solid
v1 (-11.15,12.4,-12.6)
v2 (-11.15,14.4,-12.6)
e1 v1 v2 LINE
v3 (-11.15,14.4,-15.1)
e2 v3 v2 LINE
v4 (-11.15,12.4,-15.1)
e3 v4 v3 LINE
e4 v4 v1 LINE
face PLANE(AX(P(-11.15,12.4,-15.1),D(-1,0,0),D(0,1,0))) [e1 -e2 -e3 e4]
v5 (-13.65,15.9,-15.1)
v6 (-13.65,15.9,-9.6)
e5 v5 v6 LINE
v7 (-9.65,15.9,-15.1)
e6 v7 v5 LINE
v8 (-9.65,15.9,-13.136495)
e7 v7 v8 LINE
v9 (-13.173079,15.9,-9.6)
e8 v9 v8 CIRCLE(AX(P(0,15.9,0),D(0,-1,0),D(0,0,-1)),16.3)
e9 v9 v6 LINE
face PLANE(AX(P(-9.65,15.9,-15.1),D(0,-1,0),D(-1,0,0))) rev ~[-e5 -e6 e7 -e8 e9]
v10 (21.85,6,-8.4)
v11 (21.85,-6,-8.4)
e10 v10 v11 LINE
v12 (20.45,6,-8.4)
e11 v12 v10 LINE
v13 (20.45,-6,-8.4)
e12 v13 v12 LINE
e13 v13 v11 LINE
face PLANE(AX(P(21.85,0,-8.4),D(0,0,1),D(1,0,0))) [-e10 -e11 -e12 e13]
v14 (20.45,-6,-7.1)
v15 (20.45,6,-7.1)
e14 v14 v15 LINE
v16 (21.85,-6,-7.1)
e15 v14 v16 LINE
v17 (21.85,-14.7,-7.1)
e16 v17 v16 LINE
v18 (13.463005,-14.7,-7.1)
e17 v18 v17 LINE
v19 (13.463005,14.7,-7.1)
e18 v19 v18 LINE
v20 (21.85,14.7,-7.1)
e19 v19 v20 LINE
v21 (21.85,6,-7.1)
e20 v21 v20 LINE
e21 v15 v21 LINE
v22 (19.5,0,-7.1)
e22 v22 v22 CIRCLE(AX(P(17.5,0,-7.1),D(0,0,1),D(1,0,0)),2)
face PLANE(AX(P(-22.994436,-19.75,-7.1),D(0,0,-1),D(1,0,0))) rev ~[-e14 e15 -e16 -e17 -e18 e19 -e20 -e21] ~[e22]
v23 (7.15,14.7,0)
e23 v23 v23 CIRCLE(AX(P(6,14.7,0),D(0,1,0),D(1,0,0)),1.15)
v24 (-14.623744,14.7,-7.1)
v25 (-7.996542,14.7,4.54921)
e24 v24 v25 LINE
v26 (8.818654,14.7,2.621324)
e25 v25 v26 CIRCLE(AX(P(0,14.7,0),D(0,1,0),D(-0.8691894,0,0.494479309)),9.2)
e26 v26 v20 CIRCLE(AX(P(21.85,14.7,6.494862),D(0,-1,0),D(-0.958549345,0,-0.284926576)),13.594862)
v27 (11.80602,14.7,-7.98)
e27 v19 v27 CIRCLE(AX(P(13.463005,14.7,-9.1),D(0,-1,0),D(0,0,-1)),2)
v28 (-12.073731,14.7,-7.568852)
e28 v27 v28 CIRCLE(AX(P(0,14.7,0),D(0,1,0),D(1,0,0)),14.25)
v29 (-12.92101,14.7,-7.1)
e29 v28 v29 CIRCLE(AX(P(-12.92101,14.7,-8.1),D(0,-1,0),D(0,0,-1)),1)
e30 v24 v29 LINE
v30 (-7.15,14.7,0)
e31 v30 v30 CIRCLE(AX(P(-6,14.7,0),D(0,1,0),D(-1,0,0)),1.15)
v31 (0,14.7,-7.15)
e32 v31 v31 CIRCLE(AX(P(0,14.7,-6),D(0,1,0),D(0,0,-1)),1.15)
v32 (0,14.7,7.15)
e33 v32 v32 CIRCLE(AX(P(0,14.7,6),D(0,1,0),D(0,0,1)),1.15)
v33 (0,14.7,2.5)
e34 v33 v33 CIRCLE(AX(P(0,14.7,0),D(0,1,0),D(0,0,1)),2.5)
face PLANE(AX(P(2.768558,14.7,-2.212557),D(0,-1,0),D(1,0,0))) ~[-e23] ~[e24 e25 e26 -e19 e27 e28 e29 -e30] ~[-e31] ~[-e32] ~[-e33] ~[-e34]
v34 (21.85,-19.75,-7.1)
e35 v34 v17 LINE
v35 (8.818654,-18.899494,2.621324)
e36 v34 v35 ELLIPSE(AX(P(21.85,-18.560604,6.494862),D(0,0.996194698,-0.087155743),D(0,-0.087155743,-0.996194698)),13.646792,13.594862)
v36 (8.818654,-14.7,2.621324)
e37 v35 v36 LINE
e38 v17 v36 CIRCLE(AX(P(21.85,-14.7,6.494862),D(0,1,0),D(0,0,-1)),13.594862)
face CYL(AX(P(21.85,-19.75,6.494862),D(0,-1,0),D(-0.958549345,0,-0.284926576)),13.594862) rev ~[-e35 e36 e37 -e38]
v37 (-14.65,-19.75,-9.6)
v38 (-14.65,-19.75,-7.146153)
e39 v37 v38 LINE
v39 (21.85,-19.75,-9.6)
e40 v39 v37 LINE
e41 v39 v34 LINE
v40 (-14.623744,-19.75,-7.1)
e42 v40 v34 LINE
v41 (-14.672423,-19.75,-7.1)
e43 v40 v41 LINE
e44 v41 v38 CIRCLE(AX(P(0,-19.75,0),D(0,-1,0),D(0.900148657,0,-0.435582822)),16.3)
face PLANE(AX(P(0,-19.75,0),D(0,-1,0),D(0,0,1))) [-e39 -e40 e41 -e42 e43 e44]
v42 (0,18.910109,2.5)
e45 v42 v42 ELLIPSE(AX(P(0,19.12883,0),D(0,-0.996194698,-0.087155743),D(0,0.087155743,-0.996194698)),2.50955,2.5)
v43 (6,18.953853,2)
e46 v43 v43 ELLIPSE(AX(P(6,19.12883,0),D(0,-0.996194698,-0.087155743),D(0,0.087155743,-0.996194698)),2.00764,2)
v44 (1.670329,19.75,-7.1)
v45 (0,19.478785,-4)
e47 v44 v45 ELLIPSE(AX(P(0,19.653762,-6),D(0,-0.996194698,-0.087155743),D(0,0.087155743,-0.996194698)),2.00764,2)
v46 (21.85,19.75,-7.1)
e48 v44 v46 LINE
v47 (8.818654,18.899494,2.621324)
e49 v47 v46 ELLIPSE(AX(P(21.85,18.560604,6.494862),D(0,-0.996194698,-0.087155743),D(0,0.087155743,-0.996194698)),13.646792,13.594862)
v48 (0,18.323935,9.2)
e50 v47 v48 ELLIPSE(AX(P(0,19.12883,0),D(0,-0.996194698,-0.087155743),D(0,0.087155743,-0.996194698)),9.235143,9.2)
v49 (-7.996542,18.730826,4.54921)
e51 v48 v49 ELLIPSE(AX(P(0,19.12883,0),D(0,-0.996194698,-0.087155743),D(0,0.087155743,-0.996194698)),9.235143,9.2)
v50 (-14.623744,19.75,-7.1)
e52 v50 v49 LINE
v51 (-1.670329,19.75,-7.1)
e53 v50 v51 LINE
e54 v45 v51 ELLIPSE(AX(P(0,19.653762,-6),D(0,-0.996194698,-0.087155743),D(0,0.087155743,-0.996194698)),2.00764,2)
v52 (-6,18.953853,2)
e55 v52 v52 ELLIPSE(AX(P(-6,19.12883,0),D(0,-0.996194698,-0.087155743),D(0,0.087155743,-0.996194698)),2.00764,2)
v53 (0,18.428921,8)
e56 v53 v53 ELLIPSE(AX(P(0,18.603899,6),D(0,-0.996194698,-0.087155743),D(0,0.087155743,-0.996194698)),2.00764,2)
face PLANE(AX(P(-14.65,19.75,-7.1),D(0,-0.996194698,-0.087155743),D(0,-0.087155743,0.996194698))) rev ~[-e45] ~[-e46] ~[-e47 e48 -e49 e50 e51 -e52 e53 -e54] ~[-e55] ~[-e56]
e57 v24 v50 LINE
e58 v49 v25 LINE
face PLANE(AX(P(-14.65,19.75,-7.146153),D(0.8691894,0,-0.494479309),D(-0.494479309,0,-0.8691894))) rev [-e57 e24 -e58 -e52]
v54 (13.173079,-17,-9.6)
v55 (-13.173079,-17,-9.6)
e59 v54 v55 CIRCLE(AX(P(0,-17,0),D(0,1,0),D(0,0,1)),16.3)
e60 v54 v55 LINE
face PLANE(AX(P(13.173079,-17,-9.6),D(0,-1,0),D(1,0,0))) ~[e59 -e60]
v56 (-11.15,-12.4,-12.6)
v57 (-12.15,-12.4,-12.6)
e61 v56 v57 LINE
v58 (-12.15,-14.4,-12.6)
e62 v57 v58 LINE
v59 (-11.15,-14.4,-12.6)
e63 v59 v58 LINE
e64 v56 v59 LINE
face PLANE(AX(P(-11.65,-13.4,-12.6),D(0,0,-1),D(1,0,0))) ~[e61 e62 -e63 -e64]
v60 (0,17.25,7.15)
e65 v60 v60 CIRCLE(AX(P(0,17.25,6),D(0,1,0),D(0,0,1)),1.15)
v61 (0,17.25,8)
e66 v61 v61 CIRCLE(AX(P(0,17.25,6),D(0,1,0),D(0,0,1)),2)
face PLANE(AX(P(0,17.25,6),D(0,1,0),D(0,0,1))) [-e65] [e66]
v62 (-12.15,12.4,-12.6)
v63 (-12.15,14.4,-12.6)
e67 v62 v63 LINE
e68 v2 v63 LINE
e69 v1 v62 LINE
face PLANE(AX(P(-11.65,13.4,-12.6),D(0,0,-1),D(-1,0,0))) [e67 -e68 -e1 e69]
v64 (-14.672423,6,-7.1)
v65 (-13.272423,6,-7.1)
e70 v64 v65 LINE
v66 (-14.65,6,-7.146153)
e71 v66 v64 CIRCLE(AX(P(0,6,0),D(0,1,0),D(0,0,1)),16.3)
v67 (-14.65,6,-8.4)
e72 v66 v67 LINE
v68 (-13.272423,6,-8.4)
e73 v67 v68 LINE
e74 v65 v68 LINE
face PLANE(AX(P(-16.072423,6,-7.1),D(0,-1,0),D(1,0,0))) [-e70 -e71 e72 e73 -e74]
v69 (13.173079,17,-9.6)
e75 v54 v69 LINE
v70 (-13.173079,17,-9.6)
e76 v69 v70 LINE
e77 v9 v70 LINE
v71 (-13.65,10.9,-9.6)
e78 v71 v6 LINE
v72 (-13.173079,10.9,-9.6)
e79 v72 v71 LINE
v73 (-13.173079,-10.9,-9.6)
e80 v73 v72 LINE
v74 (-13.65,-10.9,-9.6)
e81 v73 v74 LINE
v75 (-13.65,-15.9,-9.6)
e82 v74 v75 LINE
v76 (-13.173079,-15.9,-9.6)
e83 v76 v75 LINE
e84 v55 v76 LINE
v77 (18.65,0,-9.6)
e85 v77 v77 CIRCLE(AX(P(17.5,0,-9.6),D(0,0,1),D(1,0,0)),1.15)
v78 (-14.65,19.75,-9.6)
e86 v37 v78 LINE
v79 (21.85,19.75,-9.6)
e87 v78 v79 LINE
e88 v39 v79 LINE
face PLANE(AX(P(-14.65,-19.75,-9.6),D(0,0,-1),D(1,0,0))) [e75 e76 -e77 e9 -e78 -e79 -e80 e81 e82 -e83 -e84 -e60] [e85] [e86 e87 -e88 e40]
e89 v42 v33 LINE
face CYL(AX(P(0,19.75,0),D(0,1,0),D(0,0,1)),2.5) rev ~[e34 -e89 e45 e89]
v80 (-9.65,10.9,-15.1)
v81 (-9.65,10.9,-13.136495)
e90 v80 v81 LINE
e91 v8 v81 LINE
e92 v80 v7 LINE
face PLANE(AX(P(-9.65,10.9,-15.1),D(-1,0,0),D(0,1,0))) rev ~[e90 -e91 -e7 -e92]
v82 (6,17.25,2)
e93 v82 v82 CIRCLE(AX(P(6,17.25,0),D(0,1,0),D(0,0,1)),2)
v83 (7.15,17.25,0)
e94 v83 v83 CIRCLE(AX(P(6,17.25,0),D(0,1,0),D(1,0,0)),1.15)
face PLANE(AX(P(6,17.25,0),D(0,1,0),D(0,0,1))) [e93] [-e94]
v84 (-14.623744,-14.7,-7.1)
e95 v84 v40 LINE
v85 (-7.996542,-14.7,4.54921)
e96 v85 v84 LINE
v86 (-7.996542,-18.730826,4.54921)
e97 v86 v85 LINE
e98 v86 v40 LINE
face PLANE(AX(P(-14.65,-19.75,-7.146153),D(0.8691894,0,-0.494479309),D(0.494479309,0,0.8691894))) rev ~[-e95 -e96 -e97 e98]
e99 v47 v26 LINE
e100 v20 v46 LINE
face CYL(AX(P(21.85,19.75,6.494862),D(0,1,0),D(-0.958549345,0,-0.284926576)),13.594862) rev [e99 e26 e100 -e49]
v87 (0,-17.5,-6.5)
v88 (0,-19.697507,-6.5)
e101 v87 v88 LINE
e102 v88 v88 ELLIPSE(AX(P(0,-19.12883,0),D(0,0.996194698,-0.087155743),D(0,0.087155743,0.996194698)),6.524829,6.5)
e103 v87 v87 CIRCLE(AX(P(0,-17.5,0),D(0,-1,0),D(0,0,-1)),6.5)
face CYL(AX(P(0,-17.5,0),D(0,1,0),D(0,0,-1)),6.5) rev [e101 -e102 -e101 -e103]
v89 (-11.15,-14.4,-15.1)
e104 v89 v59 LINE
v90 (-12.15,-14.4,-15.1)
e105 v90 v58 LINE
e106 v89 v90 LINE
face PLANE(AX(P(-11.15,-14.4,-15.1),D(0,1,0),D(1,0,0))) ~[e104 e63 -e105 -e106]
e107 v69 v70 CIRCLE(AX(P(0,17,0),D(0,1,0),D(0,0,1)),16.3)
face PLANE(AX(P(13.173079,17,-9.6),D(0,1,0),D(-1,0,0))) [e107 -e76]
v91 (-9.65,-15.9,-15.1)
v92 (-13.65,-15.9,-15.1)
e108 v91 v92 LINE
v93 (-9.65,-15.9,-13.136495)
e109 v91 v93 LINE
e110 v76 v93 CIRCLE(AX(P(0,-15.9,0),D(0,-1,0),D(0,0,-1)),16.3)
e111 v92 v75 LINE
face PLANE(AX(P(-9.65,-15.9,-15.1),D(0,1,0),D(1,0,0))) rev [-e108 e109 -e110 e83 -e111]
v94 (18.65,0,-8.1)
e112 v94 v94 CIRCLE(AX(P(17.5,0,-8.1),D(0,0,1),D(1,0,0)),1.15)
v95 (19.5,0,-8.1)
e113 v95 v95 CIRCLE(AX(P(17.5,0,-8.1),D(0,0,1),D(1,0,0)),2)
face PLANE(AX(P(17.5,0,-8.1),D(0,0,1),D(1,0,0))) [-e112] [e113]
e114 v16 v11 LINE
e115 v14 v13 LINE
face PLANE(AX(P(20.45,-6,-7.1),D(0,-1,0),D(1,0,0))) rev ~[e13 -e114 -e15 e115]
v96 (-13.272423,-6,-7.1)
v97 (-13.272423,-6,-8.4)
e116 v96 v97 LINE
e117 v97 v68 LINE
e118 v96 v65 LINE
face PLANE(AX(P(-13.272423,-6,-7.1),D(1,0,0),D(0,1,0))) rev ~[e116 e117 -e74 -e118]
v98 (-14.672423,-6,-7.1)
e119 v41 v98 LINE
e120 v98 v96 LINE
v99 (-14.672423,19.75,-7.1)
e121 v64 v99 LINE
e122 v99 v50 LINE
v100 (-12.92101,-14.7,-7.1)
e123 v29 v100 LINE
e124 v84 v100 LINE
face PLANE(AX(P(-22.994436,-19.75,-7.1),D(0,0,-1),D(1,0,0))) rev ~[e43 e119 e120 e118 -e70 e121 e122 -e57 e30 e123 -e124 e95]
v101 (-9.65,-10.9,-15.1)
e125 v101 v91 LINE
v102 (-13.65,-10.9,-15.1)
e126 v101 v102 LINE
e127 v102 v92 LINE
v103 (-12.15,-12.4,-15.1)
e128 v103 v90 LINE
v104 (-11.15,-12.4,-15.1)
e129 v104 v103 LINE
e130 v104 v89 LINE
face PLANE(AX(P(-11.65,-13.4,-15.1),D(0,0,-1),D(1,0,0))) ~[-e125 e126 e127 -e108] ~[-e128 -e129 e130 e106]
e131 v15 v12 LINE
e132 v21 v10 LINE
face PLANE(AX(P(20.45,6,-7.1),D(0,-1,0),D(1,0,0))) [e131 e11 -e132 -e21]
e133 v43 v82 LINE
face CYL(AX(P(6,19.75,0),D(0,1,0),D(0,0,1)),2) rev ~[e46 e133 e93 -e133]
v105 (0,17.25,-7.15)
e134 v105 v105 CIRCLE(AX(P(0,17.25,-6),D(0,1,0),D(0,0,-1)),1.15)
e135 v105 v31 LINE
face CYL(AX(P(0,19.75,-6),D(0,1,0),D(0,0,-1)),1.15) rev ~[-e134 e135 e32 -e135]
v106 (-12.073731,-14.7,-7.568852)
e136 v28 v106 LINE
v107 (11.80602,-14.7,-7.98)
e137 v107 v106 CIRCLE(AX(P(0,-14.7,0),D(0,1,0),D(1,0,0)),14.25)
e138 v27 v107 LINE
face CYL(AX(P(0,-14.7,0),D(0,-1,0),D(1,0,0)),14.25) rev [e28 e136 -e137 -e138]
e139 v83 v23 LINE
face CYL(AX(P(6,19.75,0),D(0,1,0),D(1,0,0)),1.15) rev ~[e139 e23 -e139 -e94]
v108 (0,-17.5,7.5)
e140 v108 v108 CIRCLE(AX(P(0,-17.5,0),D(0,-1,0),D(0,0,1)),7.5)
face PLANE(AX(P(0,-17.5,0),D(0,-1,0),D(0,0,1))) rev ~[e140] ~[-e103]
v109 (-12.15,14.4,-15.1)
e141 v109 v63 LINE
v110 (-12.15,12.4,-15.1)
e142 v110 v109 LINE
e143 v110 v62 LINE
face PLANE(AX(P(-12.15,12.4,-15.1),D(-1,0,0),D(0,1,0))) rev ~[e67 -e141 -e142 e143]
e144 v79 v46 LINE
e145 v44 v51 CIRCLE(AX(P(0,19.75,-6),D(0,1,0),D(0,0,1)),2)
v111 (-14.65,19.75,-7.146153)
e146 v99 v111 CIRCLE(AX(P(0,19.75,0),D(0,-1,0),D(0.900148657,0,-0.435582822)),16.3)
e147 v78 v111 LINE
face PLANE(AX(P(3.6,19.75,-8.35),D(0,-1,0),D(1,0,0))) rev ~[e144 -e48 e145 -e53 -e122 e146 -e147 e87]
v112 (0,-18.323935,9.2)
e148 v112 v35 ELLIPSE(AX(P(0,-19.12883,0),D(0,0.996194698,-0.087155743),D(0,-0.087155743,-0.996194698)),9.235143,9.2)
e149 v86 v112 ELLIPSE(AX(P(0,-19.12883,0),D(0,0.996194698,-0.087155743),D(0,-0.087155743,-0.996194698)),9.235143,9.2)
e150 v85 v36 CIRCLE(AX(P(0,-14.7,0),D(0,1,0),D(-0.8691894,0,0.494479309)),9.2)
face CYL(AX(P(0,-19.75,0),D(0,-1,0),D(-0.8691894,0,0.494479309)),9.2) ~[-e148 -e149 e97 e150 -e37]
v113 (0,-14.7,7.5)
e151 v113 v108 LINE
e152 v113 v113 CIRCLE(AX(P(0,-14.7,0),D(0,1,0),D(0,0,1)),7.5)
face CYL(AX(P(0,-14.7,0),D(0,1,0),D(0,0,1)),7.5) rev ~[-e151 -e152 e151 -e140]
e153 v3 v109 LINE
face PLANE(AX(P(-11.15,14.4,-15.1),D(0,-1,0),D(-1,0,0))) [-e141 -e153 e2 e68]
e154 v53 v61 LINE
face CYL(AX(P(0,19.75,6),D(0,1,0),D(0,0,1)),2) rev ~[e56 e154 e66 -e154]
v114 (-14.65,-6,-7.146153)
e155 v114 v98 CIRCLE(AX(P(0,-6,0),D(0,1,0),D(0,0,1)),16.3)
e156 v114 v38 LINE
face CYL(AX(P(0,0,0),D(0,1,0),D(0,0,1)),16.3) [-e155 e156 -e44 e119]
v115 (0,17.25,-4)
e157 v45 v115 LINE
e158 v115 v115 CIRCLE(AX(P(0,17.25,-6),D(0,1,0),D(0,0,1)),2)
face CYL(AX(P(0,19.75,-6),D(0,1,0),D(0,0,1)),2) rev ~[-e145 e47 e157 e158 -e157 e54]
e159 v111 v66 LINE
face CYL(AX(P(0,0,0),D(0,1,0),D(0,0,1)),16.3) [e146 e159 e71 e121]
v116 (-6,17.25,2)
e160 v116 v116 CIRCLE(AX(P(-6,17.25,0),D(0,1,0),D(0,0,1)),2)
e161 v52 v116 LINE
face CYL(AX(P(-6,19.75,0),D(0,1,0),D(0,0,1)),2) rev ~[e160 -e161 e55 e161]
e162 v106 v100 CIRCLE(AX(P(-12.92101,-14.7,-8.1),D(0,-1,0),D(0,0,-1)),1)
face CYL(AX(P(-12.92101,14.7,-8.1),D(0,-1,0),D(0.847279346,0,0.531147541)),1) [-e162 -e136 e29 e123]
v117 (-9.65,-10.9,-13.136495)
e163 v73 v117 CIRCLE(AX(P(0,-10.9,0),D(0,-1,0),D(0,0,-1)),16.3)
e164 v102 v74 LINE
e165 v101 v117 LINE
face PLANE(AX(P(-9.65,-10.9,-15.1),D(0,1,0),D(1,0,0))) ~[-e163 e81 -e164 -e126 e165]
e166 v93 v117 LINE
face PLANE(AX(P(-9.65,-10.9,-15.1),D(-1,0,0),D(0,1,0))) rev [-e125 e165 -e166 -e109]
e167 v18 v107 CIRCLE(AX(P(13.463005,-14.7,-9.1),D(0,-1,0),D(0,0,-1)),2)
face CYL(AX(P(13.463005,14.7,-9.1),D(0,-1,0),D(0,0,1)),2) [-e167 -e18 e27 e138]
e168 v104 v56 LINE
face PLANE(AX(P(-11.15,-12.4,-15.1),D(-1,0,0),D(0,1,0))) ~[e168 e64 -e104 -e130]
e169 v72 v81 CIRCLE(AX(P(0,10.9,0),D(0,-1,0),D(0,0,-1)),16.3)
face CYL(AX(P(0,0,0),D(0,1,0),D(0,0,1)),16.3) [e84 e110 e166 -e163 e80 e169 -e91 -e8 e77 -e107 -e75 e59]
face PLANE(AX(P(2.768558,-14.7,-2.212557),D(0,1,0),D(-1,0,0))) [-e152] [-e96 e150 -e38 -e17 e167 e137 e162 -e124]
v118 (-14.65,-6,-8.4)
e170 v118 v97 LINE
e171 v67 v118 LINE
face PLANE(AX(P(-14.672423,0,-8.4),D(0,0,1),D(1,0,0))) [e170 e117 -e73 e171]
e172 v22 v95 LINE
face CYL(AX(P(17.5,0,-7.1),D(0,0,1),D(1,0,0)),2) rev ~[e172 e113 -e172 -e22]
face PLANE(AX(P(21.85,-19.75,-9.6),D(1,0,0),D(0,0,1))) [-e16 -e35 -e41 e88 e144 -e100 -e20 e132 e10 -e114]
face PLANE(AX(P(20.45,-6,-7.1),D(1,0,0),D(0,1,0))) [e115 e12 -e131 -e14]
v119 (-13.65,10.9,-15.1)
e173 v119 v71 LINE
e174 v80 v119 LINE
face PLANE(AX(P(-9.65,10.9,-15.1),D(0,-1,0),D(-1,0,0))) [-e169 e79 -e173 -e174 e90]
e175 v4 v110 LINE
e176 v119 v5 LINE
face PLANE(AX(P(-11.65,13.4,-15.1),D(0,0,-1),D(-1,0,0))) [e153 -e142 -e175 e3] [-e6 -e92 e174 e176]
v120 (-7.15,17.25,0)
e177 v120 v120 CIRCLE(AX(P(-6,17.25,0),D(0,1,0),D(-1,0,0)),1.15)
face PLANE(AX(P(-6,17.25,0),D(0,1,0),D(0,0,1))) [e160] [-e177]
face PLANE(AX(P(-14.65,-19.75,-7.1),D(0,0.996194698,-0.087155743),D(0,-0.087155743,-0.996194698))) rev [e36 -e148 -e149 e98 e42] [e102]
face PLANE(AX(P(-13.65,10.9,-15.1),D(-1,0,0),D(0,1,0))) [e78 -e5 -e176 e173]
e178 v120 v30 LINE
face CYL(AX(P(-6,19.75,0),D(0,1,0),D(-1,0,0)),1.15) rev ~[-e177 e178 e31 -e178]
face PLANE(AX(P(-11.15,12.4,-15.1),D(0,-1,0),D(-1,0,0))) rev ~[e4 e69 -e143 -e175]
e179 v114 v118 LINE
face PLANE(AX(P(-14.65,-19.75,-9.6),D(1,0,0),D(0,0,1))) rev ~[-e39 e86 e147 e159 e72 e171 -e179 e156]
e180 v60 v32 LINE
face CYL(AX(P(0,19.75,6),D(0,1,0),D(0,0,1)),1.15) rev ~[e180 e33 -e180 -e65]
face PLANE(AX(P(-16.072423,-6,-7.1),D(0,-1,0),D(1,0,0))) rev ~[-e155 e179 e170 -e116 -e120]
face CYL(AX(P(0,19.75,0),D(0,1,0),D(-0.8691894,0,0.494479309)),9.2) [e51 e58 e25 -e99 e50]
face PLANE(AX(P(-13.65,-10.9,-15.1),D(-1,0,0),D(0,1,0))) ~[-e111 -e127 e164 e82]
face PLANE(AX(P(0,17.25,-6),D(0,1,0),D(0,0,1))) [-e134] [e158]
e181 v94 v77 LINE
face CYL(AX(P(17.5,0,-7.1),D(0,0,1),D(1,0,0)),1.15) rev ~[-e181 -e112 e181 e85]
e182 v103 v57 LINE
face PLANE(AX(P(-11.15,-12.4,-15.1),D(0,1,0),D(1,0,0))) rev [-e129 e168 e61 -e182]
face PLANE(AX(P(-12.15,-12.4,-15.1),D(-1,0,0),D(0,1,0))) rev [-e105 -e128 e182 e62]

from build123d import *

# Parameters (mm, degrees)
SKETCH_1_R               = 16.3
EXTRUDE_1_DEPTH          = 19.75
SKETCH_2_W               = 36.5
SKETCH_2_H               = 2.5
EXTRUDE_2_DEPTH          = 39.5
SKETCH_3_W               = 44.844436064
SKETCH_3_H               = 25.506740045
CUT_EXTRUDE_1_DEPTH      = 50
EXTRUDE_3_DEPTH          = 5.05
SKETCH_5_R               = 14.25
CUT_EXTRUDE_2_DEPTH      = 29.4
SKETCH_6_R               = 7.5
CUT_EXTRUDE_3_DEPTH      = 44.930797853
SKETCH_8_R               = 1.15
CUT_EXTRUDE_5_DEPTH      = 5.05
PATTERN_CIRCULAR_1_COUNT = 4
CUT_EXTRUDE_6_REACH      = 49.993
SKETCH_9_R               = 2.5
SKETCH_10_R              = 2
CUT_EXTRUDE_7_DEPTH      = 2.5
EXTRUDE_START            = -2.25
SKETCH_11_R              = 7.5
SKETCH_11_R_2            = 6.5
EXTRUDE_4_DEPTH          = 2.25
SKETCH_12_R              = 1.15
CUT_EXTRUDE_9_DEPTH      = 34.662664779
SKETCH_13_R              = 2
CUT_EXTRUDE_10_DEPTH     = 1
SKETCH_14_W              = 2.8
SKETCH_14_H              = 12
CUT_EXTRUDE_11_DEPTH     = 1.3
SKETCH_15_W              = 2.8
SKETCH_15_H              = 12
CUT_EXTRUDE_12_DEPTH     = 1.3
EXTRUDE_5_REACH          = 40.183
EXTRUDE_5_END_RADIUS     = 16.3
SKETCH_16_W              = 4
SKETCH_16_H              = 5
SKETCH_17_W              = 1
SKETCH_17_H              = 2
CUT_EXTRUDE_13_DEPTH     = 2.5
CUT_EXTRUDE_8_DEPTH      = 45.587021654
SKETCH_18_W              = 26.346157216
SKETCH_18_H              = 2.75
CUT_EXTRUDE_16_DEPTH     = 12.5
FILLET_1_R               = 2
FILLET_2_R               = 1


with BuildPart() as part:
    # 草图1 → 凸台-拉伸1 (new, symmetric)
    with BuildSketch(Plane(origin=(0, 0, 0), x_dir=(1, 0, 0), z_dir=(0, 1, 0))):
        with Locations(Location((0, 0, 0), (0, 0, 270))):
            Circle(SKETCH_1_R)
    extrude(amount=EXTRUDE_1_DEPTH, both=True)

    # 草图2 → 凸台-拉伸2 (add, through all)
    with BuildSketch(Plane.XZ.offset(19.75)):
        with Locations((3.6, -8.35)):
            Rectangle(SKETCH_2_W, SKETCH_2_H)
    extrude(amount=-EXTRUDE_2_DEPTH)

    # 草图3 → 切除-拉伸1 (cut)
    with BuildSketch(Plane.XZ.offset(19.75)):
        with Locations((-0.572218032, 5.653370022)):
            Rectangle(SKETCH_3_W, SKETCH_3_H)
    extrude(amount=-CUT_EXTRUDE_1_DEPTH, mode=Mode.SUBTRACT)

    # 草图4 → 凸台-拉伸3 (add)
    with BuildSketch(Plane.XZ.offset(19.75)):
        with BuildLine():
            Line((-14.65, -7.146152811), (-7.996542478, 4.549209646))
            ThreePointArc((-7.996542478, 4.549209646), (1.047927533, 9.140122969), (8.818653972, 2.621324497))
            ThreePointArc((8.818653972, 2.621324497), (13.721037439, -4.401937543), (21.85, -7.1))
            Line((21.85, -7.1), (-14.65, -7.146152811))
        make_face()
    extrude_3 = extrude(amount=-EXTRUDE_3_DEPTH)

    # 镜向1: 凸台-拉伸3 across plane
    add(extrude_3.mirror(Plane.ZX))

    # 草图5 → 切除-拉伸2 (cut)
    with BuildSketch(Plane(origin=(0, -14.7, 0), x_dir=(1, 0, 0), z_dir=(0, 1, 0))):
        Circle(SKETCH_5_R)
    extrude(amount=CUT_EXTRUDE_2_DEPTH, mode=Mode.SUBTRACT)

    # 草图6 → 切除-拉伸3 (cut, through all)
    with BuildSketch(Plane(origin=(0, -14.7, 0), x_dir=(1, 0, 0), z_dir=(0, 1, 0))):
        with Locations(Location((0, 0, 0), (0, 0, 270))):
            Circle(SKETCH_6_R)
    extrude(amount=-CUT_EXTRUDE_3_DEPTH, mode=Mode.SUBTRACT)

    # 草图8 → 切除-拉伸5 (cut)
    with BuildSketch(Plane(origin=(0, 19.75, 0), x_dir=(1, 0, 0), z_dir=(0, 1, 0))):
        with Locations(Location((0, -6, 0), (0, 0, 270))):
            Circle(SKETCH_8_R)
    cut_extrude_5 = extrude(amount=-CUT_EXTRUDE_5_DEPTH, mode=Mode.SUBTRACT)

    # 阵列(圆周)1: 切除-拉伸5 ×4 about axis
    pattern_circular_1_axis = Axis((0, 0, 0), (0, 1, 0))
    for i in range(1, PATTERN_CIRCULAR_1_COUNT):
        add(cut_extrude_5.rotate(pattern_circular_1_axis, i * 360 / PATTERN_CIRCULAR_1_COUNT), mode=Mode.SUBTRACT)

    # 草图9 → 切除-拉伸6 (cut, up to next)
    with BuildSketch(Plane(origin=(0, 19.75, 0), x_dir=(1, 0, 0), z_dir=(0, 1, 0)), mode=Mode.PRIVATE) as cut_extrude_6_sk1:
        with Locations(Location((0, 0, 0), (0, 0, 270))):
            Circle(SKETCH_9_R)
    cut_extrude_6_tool1 = extrude(cut_extrude_6_sk1.sketch, amount=-CUT_EXTRUDE_6_REACH, mode=Mode.PRIVATE) & part.part
    add(cut_extrude_6_tool1.solids().sort_by_distance((0, 19.75, 0))[0], mode=Mode.SUBTRACT)

    # 草图10 → 切除-拉伸7 (cut)
    with BuildSketch(Plane(origin=(0, 19.75, 0), x_dir=(1, 0, 0), z_dir=(0, 1, 0))):
        with Locations(Location((0, 6, 0), (0, 0, 270))):
            Circle(SKETCH_10_R)
        with Locations(Location((6, 0, 0), (0, 0, 270))):
            Circle(SKETCH_10_R)
        with Locations(Location((-6, 0, 0), (0, 0, 270))):
            Circle(SKETCH_10_R)
        with Locations(Location((0, -6, 0), (0, 0, 270))):
            Circle(SKETCH_10_R)
    extrude(amount=-CUT_EXTRUDE_7_DEPTH, mode=Mode.SUBTRACT)

    # 草图11 → 凸台-拉伸4 (add)
    with BuildSketch(Plane.XZ.offset(19.75).offset(EXTRUDE_START)):
        with Locations(Location((0, 0, 0), (0, 0, 90))):
            Circle(SKETCH_11_R)
        with Locations(Location((0, 0, 0), (0, 0, 270))):
            Circle(SKETCH_11_R_2, mode=Mode.SUBTRACT)
    extrude(amount=EXTRUDE_4_DEPTH)

    # 草图12 → 切除-拉伸9 (cut, through all)
    with BuildSketch(Plane.XY.offset(-7.1)):
        with Locations((17.5, 0)):
            Circle(SKETCH_12_R)
    extrude(amount=-CUT_EXTRUDE_9_DEPTH, mode=Mode.SUBTRACT)

    # 草图13 → 切除-拉伸10 (cut)
    with BuildSketch(Plane.XY.offset(-7.1)):
        with Locations((17.5, 0)):
            Circle(SKETCH_13_R)
    extrude(amount=-CUT_EXTRUDE_10_DEPTH, mode=Mode.SUBTRACT)

    # 草图14 → 切除-拉伸11 (cut)
    with BuildSketch(Plane.XY.offset(-7.1)):
        with Locations((21.85, 0)):
            Rectangle(SKETCH_14_W, SKETCH_14_H)
    extrude(amount=-CUT_EXTRUDE_11_DEPTH, mode=Mode.SUBTRACT)

    # 草图15 → 切除-拉伸12 (cut)
    with BuildSketch(Plane.XY.offset(-7.1)):
        with Locations((-14.672423113, 0)):
            Rectangle(SKETCH_15_W, SKETCH_15_H)
    extrude(amount=-CUT_EXTRUDE_12_DEPTH, mode=Mode.SUBTRACT)

    # 凸台-拉伸5: up to this cylinder (the profile starts outside it)
    extrude_5_end = Plane(origin=(0, 13.4, 0), z_dir=(0, -1, 0)) * Cylinder(EXTRUDE_5_END_RADIUS, 113.966, mode=Mode.PRIVATE)
    # 草图16 → 凸台-拉伸5 (add, up to the surface)
    with BuildSketch(Plane(origin=(0, 0, -15.1), x_dir=(-1, 0, 0), z_dir=(0, 0, -1)), mode=Mode.PRIVATE) as extrude_5_sk1:
        with Locations((11.65, 13.4)):
            Rectangle(SKETCH_16_W, SKETCH_16_H)
    extrude_5_tool1 = extrude(extrude_5_sk1.sketch, amount=-EXTRUDE_5_REACH, mode=Mode.PRIVATE) - extrude_5_end
    extrude_5 = extrude_5_tool1.solids().sort_by_distance((-11.65, 13.4, -15.1))[0]
    add(extrude_5)

    # 镜向4: 凸台-拉伸5 across plane
    add(extrude_5.mirror(Plane.ZX))

    # 草图17 → 切除-拉伸13 (cut)
    with BuildSketch(Plane(origin=(0, 0, -15.1), x_dir=(-1, 0, 0), z_dir=(0, 0, -1))):
        with Locations((11.65, 13.4)):
            Rectangle(SKETCH_17_W, SKETCH_17_H)
    cut_extrude_13 = extrude(amount=-CUT_EXTRUDE_13_DEPTH, mode=Mode.SUBTRACT)

    # 镜向5: 切除-拉伸13 across plane
    add(cut_extrude_13.mirror(Plane.ZX), mode=Mode.SUBTRACT)

    # 草图7 → 切除-拉伸8 (cut, through all)
    with BuildSketch(Plane.ZY.offset(14.65)):
        Polygon((-7.1, 19.75), (9.2, 18.323934785), (9.2, 19.75), align=None)
    cut_extrude_8 = extrude(amount=-CUT_EXTRUDE_8_DEPTH, mode=Mode.SUBTRACT)

    # 镜向3: 切除-拉伸8 across plane
    add(cut_extrude_8.mirror(Plane.ZX), mode=Mode.SUBTRACT)

    # 草图18 → 切除-拉伸16 (cut)
    with BuildSketch(Plane(origin=(0, 0, -9.6), x_dir=(-1, 0, 0), z_dir=(0, 0, -1))):
        with Locations((0, 18.375)):
            Rectangle(SKETCH_18_W, SKETCH_18_H)
    cut_extrude_16 = extrude(amount=CUT_EXTRUDE_16_DEPTH, mode=Mode.SUBTRACT)

    # 镜向6: 切除-拉伸16 across plane
    add(cut_extrude_16.mirror(Plane.ZX), mode=Mode.SUBTRACT)

    # 圆角1
    fillet_1_edges = [part.edges().sort_by_distance(p)[0] for p in [
        (12.355262037, 0, -7.1),
    ]]
    fillet(fillet_1_edges, radius=FILLET_1_R)

    # 圆角2
    fillet_2_edges = [part.edges().sort_by_distance(p)[0] for p in [
        (-12.355262037, 0, -7.1),
    ]]
    fillet(fillet_2_edges, radius=FILLET_2_R)


solid = part.part
